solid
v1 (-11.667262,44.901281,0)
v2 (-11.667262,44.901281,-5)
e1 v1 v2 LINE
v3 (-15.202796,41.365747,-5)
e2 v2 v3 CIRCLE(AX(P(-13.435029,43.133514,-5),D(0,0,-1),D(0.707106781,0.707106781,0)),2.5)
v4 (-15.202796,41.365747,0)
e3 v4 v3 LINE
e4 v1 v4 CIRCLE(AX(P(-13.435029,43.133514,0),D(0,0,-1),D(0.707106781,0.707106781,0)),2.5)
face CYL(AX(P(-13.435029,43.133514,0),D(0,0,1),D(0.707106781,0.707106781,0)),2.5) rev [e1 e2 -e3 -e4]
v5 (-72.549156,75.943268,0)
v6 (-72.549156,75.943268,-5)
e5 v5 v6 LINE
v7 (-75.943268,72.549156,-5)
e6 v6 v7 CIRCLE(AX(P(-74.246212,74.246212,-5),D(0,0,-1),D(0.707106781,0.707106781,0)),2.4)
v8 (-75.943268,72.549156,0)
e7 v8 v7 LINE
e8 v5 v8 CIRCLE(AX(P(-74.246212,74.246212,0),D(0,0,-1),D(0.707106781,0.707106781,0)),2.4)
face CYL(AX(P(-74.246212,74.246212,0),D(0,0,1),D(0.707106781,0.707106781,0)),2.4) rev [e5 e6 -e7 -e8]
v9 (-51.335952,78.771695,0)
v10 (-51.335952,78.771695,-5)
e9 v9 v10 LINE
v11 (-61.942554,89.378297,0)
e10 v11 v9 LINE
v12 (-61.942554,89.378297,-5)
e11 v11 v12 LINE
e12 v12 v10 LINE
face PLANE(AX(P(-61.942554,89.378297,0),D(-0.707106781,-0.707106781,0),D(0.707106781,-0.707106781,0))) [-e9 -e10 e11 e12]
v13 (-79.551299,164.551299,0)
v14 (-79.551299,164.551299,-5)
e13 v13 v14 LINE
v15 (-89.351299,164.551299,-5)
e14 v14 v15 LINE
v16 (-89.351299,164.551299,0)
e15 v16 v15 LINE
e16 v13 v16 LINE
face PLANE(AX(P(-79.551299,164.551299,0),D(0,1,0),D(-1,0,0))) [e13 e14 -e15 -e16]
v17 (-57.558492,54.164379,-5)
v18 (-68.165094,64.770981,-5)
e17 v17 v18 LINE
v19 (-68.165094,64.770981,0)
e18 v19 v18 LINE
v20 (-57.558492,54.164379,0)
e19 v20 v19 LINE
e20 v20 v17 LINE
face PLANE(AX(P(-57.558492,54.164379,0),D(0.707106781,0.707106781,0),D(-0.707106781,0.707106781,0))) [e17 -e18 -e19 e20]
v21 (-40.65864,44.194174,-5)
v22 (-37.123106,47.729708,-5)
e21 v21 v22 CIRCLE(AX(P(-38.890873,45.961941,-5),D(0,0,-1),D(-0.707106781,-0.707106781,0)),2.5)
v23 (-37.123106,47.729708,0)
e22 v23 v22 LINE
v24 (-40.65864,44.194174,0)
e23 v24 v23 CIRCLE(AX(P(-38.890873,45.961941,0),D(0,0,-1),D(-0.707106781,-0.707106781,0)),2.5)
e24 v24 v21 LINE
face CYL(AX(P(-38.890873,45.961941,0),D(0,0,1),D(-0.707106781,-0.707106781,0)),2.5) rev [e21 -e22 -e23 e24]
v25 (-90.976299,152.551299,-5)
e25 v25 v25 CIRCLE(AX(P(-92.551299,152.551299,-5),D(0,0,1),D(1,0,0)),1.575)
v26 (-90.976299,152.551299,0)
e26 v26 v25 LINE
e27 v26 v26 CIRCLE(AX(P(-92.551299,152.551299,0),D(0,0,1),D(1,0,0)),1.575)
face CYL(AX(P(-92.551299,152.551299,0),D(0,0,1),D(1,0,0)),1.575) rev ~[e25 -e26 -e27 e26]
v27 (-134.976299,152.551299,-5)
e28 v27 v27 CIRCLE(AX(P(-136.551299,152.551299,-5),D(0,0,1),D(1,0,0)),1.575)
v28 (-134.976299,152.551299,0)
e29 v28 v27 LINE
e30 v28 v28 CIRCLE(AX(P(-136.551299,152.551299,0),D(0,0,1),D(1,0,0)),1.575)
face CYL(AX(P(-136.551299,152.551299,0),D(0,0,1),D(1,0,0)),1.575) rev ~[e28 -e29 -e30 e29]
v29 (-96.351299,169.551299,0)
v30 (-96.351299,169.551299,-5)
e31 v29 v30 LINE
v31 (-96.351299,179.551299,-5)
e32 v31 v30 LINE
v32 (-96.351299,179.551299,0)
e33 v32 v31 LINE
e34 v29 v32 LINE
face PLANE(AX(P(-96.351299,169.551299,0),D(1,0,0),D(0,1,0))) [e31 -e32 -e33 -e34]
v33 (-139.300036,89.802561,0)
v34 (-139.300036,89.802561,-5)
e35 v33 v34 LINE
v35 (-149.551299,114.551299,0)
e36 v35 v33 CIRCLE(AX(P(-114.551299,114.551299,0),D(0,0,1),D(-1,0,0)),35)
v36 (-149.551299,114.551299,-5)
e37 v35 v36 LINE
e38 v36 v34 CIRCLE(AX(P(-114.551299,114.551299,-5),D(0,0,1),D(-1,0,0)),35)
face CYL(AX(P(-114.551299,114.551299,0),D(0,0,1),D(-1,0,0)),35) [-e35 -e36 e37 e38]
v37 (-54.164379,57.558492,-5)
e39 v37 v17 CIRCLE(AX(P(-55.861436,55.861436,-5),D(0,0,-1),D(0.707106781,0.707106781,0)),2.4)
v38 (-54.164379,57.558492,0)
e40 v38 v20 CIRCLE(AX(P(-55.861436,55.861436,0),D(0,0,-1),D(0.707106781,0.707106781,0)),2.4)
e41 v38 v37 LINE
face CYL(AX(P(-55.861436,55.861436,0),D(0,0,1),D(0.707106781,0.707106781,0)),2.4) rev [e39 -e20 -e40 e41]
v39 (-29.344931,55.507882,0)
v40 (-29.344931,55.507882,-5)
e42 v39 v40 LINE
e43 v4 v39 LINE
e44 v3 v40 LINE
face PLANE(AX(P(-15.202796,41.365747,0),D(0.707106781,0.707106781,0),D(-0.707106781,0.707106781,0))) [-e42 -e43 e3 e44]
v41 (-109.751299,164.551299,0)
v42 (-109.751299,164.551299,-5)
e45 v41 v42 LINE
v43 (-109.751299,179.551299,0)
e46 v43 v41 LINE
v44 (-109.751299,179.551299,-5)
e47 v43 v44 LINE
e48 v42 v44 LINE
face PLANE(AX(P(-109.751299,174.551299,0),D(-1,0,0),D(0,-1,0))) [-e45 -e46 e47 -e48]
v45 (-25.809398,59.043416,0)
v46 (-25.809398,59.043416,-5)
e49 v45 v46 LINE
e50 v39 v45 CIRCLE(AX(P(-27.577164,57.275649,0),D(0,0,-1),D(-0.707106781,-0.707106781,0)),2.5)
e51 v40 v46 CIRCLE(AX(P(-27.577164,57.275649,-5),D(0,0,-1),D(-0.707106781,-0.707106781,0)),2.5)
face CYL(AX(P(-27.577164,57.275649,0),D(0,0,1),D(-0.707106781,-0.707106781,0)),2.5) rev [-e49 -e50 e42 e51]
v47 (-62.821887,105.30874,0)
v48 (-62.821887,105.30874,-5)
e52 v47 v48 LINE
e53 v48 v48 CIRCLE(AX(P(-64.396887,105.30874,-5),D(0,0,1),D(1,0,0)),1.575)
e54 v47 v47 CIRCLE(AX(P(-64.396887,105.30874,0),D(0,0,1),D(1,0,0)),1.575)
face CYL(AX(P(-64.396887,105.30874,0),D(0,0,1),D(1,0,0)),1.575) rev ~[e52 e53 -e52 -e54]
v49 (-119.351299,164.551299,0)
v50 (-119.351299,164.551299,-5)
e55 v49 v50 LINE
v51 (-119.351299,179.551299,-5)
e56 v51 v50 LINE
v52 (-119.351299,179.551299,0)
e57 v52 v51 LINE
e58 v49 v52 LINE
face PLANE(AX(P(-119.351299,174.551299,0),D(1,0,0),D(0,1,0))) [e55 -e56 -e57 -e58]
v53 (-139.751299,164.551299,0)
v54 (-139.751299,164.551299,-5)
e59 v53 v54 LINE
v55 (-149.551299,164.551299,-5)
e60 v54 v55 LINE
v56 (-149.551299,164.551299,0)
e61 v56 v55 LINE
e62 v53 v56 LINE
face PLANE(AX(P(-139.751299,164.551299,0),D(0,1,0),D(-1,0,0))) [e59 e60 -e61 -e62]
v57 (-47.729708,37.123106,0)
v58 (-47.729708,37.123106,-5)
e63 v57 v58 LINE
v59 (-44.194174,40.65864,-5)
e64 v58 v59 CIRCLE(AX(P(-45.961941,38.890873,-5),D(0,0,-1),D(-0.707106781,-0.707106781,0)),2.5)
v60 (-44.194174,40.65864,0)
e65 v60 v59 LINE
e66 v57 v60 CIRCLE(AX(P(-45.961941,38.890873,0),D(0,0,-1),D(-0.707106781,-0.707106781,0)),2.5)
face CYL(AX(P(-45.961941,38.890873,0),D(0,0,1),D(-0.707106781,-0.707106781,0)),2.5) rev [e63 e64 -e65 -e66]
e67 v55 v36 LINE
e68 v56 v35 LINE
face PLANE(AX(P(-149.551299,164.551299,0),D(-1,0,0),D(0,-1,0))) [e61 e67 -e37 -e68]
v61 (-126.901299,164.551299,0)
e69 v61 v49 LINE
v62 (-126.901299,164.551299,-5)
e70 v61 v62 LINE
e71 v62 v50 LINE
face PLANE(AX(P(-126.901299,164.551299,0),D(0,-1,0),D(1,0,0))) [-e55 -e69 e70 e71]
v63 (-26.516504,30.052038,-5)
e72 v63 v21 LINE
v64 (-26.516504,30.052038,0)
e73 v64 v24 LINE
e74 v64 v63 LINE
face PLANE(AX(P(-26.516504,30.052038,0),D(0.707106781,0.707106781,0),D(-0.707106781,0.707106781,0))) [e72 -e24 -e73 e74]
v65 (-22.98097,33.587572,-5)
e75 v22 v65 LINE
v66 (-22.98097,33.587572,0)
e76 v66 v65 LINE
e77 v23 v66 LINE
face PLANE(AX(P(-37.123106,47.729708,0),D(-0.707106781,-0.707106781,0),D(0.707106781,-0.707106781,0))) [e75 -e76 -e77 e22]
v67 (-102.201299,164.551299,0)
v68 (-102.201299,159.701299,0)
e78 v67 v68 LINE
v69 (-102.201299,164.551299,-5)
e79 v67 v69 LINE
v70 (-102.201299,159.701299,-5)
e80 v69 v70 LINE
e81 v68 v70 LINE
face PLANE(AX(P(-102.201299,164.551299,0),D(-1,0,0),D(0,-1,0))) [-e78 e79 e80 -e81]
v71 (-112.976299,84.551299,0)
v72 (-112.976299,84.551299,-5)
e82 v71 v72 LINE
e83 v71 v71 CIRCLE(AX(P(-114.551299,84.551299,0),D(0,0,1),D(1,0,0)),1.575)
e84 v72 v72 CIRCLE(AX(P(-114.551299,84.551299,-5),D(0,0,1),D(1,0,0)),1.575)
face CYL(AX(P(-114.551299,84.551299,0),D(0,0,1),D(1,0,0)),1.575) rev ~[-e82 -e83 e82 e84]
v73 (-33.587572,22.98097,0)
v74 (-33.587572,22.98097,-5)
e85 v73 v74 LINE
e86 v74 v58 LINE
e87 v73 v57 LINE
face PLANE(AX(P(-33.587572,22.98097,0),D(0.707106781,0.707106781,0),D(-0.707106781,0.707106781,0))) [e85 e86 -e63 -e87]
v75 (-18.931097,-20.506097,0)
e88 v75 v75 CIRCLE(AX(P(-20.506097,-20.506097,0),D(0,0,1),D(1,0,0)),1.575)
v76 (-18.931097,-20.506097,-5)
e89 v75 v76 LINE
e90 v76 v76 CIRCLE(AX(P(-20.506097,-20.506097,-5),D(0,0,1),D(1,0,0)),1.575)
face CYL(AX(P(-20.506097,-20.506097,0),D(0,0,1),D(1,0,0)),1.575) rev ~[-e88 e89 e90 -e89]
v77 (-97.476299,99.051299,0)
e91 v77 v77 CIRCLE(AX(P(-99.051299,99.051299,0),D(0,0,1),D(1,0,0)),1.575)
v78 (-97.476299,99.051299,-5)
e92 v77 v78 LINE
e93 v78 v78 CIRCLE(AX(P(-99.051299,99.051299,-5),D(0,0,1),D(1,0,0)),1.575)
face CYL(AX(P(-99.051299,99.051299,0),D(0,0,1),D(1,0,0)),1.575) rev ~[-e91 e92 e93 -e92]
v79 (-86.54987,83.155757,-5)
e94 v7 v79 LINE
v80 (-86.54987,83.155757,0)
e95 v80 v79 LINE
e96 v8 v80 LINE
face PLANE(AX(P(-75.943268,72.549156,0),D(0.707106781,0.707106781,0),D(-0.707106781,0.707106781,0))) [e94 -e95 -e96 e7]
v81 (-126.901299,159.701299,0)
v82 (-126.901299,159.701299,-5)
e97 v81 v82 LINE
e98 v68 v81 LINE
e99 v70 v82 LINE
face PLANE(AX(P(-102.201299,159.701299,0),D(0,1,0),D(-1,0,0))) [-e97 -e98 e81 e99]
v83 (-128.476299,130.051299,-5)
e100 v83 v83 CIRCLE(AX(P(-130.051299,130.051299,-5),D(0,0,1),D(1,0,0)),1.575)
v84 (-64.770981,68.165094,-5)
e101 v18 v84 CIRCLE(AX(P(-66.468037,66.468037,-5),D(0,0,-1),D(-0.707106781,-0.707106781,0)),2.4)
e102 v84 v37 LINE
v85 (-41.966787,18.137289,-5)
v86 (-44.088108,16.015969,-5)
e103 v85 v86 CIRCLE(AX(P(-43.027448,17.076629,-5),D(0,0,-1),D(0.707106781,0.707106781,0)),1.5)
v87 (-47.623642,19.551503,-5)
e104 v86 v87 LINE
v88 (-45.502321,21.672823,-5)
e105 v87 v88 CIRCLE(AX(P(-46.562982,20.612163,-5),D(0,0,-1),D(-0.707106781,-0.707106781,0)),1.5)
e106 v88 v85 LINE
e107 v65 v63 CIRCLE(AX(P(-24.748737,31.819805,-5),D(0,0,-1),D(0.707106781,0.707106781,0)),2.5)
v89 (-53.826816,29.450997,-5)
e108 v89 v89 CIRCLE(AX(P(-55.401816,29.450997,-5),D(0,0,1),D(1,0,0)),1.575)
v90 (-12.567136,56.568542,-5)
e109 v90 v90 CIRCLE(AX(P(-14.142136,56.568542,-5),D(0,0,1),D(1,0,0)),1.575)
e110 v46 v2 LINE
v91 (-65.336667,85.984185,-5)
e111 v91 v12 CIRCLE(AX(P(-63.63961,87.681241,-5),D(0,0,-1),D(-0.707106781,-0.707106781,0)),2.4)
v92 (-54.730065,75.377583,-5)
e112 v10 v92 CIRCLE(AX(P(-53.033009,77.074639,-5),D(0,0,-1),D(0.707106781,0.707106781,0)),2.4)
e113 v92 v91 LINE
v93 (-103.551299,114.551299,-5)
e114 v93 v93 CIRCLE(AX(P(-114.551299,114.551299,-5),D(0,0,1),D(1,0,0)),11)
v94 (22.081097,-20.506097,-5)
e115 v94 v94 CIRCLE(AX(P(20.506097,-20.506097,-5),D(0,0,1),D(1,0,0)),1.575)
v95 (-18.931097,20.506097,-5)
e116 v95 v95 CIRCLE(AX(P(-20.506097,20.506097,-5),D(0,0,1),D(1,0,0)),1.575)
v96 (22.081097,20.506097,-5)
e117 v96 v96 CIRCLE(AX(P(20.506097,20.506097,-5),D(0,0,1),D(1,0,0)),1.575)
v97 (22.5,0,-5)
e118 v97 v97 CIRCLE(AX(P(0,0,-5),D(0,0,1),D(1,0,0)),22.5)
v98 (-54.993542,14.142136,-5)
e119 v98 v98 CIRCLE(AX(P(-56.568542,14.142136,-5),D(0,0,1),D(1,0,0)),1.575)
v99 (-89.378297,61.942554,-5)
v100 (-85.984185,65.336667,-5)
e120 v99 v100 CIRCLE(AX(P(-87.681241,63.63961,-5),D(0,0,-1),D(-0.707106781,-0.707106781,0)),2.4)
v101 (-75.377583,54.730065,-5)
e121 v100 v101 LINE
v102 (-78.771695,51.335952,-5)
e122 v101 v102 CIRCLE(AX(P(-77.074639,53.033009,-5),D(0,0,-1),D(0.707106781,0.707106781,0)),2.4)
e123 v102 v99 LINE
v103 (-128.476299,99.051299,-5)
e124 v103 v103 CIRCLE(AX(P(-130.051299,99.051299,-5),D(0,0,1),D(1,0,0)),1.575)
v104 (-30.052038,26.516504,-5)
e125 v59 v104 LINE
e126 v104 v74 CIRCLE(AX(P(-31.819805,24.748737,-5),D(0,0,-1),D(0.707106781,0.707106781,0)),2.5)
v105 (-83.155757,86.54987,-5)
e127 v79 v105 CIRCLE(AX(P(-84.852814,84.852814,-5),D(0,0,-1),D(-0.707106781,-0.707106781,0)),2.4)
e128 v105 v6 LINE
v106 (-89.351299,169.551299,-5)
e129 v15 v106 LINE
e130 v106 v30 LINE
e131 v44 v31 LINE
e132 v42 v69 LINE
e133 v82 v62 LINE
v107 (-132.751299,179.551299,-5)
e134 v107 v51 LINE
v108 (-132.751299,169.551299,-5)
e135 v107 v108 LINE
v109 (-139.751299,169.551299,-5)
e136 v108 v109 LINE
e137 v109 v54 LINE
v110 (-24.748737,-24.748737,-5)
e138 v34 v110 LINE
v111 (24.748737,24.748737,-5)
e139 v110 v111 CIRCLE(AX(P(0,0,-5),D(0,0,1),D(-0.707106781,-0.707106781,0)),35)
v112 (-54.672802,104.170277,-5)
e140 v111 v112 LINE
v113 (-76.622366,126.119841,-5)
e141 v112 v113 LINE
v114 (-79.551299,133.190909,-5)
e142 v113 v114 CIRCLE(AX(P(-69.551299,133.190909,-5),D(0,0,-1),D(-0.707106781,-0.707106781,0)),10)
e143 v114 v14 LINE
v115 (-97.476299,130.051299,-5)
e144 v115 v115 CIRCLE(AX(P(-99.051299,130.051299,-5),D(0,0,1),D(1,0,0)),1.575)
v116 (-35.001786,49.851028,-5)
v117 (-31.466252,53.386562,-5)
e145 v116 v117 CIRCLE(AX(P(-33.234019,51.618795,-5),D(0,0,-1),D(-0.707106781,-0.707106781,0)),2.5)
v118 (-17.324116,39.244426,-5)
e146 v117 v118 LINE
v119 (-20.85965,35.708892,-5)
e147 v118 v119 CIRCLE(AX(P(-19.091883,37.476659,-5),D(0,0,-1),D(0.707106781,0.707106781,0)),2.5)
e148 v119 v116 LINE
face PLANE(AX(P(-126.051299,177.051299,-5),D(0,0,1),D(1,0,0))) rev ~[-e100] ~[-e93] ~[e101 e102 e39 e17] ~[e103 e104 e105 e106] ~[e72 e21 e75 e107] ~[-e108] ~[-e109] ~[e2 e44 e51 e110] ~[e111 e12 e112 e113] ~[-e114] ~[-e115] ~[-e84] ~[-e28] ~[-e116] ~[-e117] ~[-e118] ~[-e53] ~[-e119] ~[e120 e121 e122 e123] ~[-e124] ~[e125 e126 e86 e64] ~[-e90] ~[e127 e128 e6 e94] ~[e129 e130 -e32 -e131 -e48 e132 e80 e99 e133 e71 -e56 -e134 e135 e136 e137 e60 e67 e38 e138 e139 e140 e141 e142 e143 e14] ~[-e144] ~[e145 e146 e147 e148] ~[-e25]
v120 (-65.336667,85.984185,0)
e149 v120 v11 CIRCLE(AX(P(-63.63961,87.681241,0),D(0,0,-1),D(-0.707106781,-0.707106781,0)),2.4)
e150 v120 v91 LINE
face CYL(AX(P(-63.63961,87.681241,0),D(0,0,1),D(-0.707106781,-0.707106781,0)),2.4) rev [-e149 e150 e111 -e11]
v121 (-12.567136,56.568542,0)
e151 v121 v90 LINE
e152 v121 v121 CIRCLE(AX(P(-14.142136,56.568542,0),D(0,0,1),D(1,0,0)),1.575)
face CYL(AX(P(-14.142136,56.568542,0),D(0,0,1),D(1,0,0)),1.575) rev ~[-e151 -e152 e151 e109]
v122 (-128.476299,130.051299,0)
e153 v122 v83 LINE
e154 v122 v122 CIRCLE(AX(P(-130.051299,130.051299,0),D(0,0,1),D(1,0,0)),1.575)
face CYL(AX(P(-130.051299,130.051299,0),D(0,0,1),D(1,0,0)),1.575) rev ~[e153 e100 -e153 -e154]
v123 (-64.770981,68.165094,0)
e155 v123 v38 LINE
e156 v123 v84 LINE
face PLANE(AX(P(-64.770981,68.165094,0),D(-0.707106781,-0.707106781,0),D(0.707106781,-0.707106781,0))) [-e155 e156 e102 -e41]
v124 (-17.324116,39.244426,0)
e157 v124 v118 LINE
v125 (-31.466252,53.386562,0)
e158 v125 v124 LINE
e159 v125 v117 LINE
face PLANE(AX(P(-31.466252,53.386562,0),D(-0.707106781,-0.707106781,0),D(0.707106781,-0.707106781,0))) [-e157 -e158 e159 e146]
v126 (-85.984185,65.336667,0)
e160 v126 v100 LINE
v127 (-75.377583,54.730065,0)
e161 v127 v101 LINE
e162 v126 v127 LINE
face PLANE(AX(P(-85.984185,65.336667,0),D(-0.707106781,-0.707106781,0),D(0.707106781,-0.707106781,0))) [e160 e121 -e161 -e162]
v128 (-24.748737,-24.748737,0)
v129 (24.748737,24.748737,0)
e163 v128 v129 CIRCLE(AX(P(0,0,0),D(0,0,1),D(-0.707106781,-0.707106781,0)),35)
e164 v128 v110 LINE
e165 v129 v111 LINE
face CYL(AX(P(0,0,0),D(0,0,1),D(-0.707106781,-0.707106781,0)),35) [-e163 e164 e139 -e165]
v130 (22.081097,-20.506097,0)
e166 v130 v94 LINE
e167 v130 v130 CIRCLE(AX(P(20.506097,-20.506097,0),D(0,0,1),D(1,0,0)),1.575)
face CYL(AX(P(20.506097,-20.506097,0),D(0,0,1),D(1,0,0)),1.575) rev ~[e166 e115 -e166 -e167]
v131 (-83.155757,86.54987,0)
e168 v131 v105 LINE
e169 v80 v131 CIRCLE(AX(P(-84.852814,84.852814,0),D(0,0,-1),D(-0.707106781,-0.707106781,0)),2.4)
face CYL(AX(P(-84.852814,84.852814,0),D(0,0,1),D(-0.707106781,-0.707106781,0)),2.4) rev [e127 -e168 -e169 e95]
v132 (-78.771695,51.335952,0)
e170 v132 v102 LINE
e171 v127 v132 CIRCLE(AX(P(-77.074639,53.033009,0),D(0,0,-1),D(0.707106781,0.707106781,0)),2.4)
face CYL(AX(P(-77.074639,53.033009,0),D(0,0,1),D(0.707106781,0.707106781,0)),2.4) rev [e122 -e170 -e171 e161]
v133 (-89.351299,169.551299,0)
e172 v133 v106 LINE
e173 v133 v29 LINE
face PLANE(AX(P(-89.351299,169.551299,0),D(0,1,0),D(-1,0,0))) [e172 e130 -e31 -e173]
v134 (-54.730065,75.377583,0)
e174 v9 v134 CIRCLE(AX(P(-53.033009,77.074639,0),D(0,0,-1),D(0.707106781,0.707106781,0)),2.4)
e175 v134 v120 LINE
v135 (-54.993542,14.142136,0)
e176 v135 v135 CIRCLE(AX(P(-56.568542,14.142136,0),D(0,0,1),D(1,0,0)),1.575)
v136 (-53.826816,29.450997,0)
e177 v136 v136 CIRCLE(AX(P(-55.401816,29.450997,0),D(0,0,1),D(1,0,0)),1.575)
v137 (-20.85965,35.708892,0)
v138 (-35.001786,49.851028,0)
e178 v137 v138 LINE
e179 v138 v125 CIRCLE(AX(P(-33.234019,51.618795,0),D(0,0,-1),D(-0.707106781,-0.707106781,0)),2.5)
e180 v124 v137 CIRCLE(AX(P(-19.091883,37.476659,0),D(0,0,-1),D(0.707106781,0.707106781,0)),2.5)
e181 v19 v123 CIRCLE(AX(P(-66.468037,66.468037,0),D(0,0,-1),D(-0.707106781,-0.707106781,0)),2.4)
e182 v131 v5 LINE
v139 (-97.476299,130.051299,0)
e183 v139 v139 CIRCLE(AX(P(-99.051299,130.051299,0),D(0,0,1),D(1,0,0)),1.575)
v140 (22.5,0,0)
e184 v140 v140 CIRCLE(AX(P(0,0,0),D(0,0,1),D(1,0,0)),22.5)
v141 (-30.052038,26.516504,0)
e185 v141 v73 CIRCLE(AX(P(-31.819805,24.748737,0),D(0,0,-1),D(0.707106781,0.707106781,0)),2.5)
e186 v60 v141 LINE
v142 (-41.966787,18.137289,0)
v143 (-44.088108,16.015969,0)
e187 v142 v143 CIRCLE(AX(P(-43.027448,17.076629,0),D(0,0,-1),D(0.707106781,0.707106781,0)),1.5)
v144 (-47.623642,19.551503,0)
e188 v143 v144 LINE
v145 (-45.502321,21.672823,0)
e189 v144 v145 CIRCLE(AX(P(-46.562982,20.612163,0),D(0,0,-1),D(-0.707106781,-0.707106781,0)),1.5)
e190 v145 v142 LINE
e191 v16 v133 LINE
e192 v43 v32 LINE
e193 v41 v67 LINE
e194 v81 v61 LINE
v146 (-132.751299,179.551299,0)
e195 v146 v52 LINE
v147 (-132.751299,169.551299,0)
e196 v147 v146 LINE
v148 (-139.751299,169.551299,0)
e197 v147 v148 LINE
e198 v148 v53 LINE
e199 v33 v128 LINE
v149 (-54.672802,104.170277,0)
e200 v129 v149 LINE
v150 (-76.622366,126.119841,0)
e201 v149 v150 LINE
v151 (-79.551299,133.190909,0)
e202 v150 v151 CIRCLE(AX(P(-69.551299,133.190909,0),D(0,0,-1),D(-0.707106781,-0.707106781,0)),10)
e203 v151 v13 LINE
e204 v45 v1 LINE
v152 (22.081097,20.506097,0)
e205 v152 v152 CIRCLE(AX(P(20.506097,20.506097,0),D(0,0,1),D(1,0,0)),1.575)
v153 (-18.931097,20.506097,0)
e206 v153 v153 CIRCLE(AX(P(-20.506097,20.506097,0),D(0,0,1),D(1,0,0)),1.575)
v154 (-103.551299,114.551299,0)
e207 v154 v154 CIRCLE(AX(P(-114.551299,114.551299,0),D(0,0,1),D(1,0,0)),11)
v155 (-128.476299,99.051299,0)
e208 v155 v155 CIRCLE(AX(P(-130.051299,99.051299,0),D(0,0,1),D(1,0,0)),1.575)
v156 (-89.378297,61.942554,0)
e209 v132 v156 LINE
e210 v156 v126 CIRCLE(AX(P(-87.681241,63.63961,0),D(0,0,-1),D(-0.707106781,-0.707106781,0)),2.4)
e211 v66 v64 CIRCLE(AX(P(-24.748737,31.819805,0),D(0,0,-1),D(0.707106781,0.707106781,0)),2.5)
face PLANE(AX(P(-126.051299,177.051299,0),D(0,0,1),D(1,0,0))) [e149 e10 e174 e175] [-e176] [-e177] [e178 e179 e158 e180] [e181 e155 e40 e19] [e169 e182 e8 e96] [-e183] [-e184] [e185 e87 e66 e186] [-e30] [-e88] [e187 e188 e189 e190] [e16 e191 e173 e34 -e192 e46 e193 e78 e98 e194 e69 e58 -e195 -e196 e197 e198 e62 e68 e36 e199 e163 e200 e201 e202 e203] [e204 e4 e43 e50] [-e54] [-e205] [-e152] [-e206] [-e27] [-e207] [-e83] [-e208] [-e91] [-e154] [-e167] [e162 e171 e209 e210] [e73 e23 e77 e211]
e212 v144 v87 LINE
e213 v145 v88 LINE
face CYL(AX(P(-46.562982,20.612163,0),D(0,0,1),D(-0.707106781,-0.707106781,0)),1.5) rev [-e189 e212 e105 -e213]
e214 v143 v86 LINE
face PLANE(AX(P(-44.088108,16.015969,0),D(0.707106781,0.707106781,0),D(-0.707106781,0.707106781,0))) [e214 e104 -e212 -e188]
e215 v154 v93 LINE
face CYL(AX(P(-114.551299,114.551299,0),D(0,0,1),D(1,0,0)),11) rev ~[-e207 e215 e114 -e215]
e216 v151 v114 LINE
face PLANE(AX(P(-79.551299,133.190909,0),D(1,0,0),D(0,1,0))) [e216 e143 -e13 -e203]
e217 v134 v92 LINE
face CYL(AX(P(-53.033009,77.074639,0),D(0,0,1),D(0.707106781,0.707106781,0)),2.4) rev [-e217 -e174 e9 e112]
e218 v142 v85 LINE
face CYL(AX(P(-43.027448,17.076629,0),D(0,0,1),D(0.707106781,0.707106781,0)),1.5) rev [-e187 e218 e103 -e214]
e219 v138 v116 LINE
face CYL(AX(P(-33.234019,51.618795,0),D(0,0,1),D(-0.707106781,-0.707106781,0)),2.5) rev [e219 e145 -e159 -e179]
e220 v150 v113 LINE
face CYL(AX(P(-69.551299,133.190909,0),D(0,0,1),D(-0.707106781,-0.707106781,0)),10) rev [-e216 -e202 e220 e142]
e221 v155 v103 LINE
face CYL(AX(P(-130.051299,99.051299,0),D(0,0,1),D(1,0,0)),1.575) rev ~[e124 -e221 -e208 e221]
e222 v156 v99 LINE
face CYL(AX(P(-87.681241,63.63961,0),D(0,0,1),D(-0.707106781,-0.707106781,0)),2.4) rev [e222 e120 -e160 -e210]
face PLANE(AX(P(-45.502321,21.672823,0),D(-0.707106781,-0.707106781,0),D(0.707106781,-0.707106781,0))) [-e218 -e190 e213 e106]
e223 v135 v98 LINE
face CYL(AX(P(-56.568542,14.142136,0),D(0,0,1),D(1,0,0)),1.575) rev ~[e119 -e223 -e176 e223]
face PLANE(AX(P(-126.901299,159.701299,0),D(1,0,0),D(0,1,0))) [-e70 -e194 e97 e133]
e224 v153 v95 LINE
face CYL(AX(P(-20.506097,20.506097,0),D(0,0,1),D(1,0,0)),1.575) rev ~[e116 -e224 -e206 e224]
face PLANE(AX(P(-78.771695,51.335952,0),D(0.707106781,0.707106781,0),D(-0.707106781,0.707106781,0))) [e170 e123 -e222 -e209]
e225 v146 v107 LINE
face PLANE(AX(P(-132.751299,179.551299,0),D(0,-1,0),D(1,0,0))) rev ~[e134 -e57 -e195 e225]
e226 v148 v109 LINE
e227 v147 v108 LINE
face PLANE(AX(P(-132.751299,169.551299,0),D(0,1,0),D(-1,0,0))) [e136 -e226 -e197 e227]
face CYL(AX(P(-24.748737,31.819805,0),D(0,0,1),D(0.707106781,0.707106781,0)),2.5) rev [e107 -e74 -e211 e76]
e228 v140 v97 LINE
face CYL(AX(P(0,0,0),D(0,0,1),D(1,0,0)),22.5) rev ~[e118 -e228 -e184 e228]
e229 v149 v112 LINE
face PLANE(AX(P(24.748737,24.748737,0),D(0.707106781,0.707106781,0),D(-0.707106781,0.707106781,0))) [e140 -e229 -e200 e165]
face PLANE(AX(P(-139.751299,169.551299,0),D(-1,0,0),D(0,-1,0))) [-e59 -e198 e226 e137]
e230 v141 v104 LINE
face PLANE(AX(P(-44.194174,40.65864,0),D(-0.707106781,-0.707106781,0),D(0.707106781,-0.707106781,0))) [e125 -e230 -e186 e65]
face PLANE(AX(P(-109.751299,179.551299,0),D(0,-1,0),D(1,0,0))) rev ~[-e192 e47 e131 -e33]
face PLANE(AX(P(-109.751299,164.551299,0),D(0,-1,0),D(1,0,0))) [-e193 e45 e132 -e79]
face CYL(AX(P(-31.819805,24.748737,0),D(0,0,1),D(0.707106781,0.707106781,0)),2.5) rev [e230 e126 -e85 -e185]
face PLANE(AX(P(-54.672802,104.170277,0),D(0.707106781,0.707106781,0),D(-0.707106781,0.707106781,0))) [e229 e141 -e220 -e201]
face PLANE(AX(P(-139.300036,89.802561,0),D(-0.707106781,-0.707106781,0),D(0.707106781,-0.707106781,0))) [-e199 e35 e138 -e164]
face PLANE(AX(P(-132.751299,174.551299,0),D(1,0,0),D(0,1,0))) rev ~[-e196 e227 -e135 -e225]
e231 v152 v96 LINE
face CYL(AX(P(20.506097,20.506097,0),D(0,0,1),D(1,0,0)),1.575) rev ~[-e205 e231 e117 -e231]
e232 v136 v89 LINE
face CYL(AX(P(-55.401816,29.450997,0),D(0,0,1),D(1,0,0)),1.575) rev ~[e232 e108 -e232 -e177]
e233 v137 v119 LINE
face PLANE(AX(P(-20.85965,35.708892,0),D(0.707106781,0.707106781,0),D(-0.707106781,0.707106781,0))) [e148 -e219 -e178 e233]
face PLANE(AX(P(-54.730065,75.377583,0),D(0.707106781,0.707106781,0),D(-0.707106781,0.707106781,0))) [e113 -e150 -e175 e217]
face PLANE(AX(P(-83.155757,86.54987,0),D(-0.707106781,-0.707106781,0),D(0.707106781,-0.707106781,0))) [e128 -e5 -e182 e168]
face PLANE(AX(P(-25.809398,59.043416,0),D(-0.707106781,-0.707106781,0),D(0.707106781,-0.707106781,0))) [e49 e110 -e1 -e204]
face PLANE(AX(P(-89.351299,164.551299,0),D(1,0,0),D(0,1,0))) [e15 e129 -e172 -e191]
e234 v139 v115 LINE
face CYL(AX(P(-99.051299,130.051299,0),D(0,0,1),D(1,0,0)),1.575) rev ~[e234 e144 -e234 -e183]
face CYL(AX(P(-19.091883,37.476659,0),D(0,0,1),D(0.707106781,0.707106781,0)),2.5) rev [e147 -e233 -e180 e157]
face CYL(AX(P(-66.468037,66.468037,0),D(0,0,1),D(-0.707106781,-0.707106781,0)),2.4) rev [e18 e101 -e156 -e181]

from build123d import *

# Parameters (mm, degrees)
SKETCH1_R           = 1.575
SKETCH1_R_2         = 22.5
SKETCH1_R_3         = 11
BOSS_EXTRUDE1_DEPTH = 5
SKETCH2_W           = 13.4
SKETCH2_H           = 5
BOSS_EXTRUDE2_DEPTH = 5


with BuildPart() as part:
    # Sketch1 → Boss-Extrude1 (new body)
    with BuildSketch(Plane.XY):
        with BuildLine():
            Line((-139.300035894, 89.802561211), (-24.748737342, -24.748737342))
            ThreePointArc((-24.748737342, -24.748737342), (24.748737342, -24.748737342), (24.748737342, 24.748737342))
            Line((24.748737342, 24.748737342), (-54.672802234, 104.170276917))
            Line((-54.672802234, 104.170276917), (-76.622366364, 126.119841047))
            ThreePointArc((-76.622366364, 126.119841047), (-78.790093877, 129.364074535), (-79.551298552, 133.190908859))
            Line((-79.551298552, 133.190908859), (-79.551298552, 164.551298552))
            Line((-79.551298552, 164.551298552), (-89.351298552, 164.551298552))
            Line((-89.351298552, 164.551298552), (-89.351298552, 169.551298552))
            Line((-89.351298552, 169.551298552), (-96.351298552, 169.551298552))
            Line((-96.351298552, 169.551298552), (-96.351298552, 174.551298552))
            Line((-96.351298552, 174.551298552), (-109.751298552, 174.551298552))
            Line((-109.751298552, 174.551298552), (-109.751298552, 169.551298552))
            Line((-109.751298552, 169.551298552), (-109.751298552, 164.551298552))
            Line((-109.751298552, 164.551298552), (-102.201298552, 164.551298552))
            Line((-102.201298552, 164.551298552), (-102.201298552, 159.701298552))
            Line((-102.201298552, 159.701298552), (-126.901298552, 159.701298552))
            Line((-126.901298552, 159.701298552), (-126.901298552, 164.551298552))
            Line((-126.901298552, 164.551298552), (-119.351298552, 164.551298552))
            Line((-119.351298552, 164.551298552), (-119.351298552, 169.551298552))
            Line((-119.351298552, 169.551298552), (-119.351298552, 174.551298552))
            Line((-119.351298552, 174.551298552), (-132.751298552, 174.551298552))
            Line((-132.751298552, 174.551298552), (-132.751298552, 169.551298552))
            Line((-132.751298552, 169.551298552), (-139.751298552, 169.551298552))
            Line((-139.751298552, 169.551298552), (-139.751298552, 164.551298552))
            Line((-139.751298552, 164.551298552), (-149.551298552, 164.551298552))
            Line((-149.551298552, 164.551298552), (-149.551298552, 114.551298552))
            ThreePointArc((-149.551298552, 114.551298552), (-146.88708219, 101.157378419), (-139.300035894, 89.802561211))
        make_face()
        with BuildLine():
            Line((-78.771695424, 51.335952314), (-89.378297142, 61.942554032))
            ThreePointArc((-89.378297142, 61.942554032), (-89.378297142, 65.336666582), (-85.984184592, 65.336666582))
            Line((-85.984184592, 65.336666582), (-75.377582874, 54.730064864))
            ThreePointArc((-75.377582874, 54.730064864), (-75.377582874, 51.335952314), (-78.771695424, 51.335952314))
        make_face(mode=Mode.SUBTRACT)
        with BuildLine():
            ThreePointArc((-68.165093707, 64.770981156), (-68.165093707, 68.165093706), (-64.770981157, 68.165093706))
            Line((-64.770981157, 68.165093706), (-54.164379439, 57.558491989))
            ThreePointArc((-54.164379439, 57.558491989), (-54.164379439, 54.164379439), (-57.558491988, 54.164379439))
            Line((-57.558491988, 54.164379439), (-68.165093707, 64.770981156))
        make_face(mode=Mode.SUBTRACT)
        with Locations((-20.506096654, -20.506096654)):
            Circle(SKETCH1_R, mode=Mode.SUBTRACT)
        with Locations((-56.568542495, 14.142135624)):
            Circle(SKETCH1_R, mode=Mode.SUBTRACT)
        with Locations((20.506096654, -20.506096654)):
            Circle(SKETCH1_R, mode=Mode.SUBTRACT)
        Circle(SKETCH1_R_2, mode=Mode.SUBTRACT)
        with Locations((-55.401816306, 29.450997436)):
            Circle(SKETCH1_R, mode=Mode.SUBTRACT)
        with BuildLine():
            ThreePointArc((-47.623641713, 19.5515025), (-47.623641713, 21.672822843), (-45.502321369, 21.672822843))
            Line((-45.502321369, 21.672822843), (-41.966787463, 18.137288937))
            ThreePointArc((-41.966787463, 18.137288937), (-41.966787463, 16.015968594), (-44.088107807, 16.015968594))
            Line((-44.088107807, 16.015968594), (-47.623641713, 19.5515025))
        make_face(mode=Mode.SUBTRACT)
        with BuildLine():
            ThreePointArc((-47.72970773, 37.123106012), (-47.72970773, 40.658639918), (-44.194173824, 40.658639918))
            Line((-44.194173824, 40.658639918), (-30.0520382, 26.516504294))
            ThreePointArc((-30.0520382, 26.516504294), (-30.0520382, 22.980970389), (-33.587572106, 22.980970389))
            Line((-33.587572106, 22.980970389), (-47.72970773, 37.123106012))
        make_face(mode=Mode.SUBTRACT)
        with Locations((-20.506096654, 20.506096654)):
            Circle(SKETCH1_R, mode=Mode.SUBTRACT)
        with BuildLine():
            ThreePointArc((-40.658639918, 44.194173824), (-40.658639918, 47.72970773), (-37.123106012, 47.72970773))
            Line((-37.123106012, 47.72970773), (-22.980970389, 33.587572106))
            ThreePointArc((-22.980970389, 33.587572106), (-22.980970389, 30.0520382), (-26.516504294, 30.0520382))
            Line((-26.516504294, 30.0520382), (-40.658639918, 44.194173824))
        make_face(mode=Mode.SUBTRACT)
        with BuildLine():
            ThreePointArc((-35.001785669, 49.851028074), (-35.001785669, 53.38656198), (-31.466251763, 53.38656198))
            Line((-31.466251763, 53.38656198), (-17.324116139, 39.244426356))
            ThreePointArc((-17.324116139, 39.244426356), (-17.324116139, 35.70889245), (-20.859650045, 35.70889245))
            Line((-20.859650045, 35.70889245), (-35.001785669, 49.851028074))
        make_face(mode=Mode.SUBTRACT)
        with BuildLine():
            ThreePointArc((-29.344931419, 55.507882323), (-29.344931419, 59.043416229), (-25.809397513, 59.043416229))
            Line((-25.809397513, 59.043416229), (-11.66726189, 44.901280605))
            ThreePointArc((-11.66726189, 44.901280605), (-11.66726189, 41.365746699), (-15.202795796, 41.365746699))
            Line((-15.202795796, 41.365746699), (-29.344931419, 55.507882323))
        make_face(mode=Mode.SUBTRACT)
        with Locations((-14.142135624, 56.568542495)):
            Circle(SKETCH1_R, mode=Mode.SUBTRACT)
        with Locations((20.506096654, 20.506096654)):
            Circle(SKETCH1_R, mode=Mode.SUBTRACT)
        with Locations((-114.551298552, 84.551298552)):
            Circle(SKETCH1_R, mode=Mode.SUBTRACT)
        with Locations((-130.051298552, 99.051298552)):
            Circle(SKETCH1_R, mode=Mode.SUBTRACT)
        with Locations((-114.551298552, 114.551298552)):
            Circle(SKETCH1_R_3, mode=Mode.SUBTRACT)
        with BuildLine():
            ThreePointArc((-86.549870017, 83.155757468), (-86.549870017, 86.549870017), (-83.155757468, 86.549870017))
            Line((-83.155757468, 86.549870017), (-72.54915575, 75.943268299))
            ThreePointArc((-72.54915575, 75.943268299), (-72.54915575, 72.54915575), (-75.943268299, 72.54915575))
            Line((-75.943268299, 72.54915575), (-86.549870017, 83.155757468))
        make_face(mode=Mode.SUBTRACT)
        with BuildLine():
            ThreePointArc((-65.336666582, 85.984184592), (-65.336666582, 89.378297142), (-61.942554032, 89.378297142))
            Line((-61.942554032, 89.378297142), (-51.335952314, 78.771695424))
            ThreePointArc((-51.335952314, 78.771695424), (-51.335952314, 75.377582874), (-54.730064864, 75.377582874))
            Line((-54.730064864, 75.377582874), (-65.336666582, 85.984184592))
        make_face(mode=Mode.SUBTRACT)
        with Locations((-99.051298552, 99.051298552)):
            Circle(SKETCH1_R, mode=Mode.SUBTRACT)
        with Locations((-64.396887007, 105.308740477)):
            Circle(SKETCH1_R, mode=Mode.SUBTRACT)
        with Locations((-130.051298552, 130.051298552)):
            Circle(SKETCH1_R, mode=Mode.SUBTRACT)
        with Locations((-136.551298552, 152.551298552)):
            Circle(SKETCH1_R, mode=Mode.SUBTRACT)
        with Locations((-99.051298552, 130.051298552)):
            Circle(SKETCH1_R, mode=Mode.SUBTRACT)
        with Locations((-92.551298552, 152.551298552)):
            Circle(SKETCH1_R, mode=Mode.SUBTRACT)
    extrude(amount=-BOSS_EXTRUDE1_DEPTH)

    # Sketch2 → Boss-Extrude2 (add)
    with BuildSketch(Plane.XY):
        with Locations((-126.051298552, 177.051298552)):
            Rectangle(SKETCH2_W, SKETCH2_H)
        with Locations((-103.051298552, 177.051298552)):
            Rectangle(SKETCH2_W, SKETCH2_H)
    extrude(amount=-BOSS_EXTRUDE2_DEPTH)


solid = part.part
